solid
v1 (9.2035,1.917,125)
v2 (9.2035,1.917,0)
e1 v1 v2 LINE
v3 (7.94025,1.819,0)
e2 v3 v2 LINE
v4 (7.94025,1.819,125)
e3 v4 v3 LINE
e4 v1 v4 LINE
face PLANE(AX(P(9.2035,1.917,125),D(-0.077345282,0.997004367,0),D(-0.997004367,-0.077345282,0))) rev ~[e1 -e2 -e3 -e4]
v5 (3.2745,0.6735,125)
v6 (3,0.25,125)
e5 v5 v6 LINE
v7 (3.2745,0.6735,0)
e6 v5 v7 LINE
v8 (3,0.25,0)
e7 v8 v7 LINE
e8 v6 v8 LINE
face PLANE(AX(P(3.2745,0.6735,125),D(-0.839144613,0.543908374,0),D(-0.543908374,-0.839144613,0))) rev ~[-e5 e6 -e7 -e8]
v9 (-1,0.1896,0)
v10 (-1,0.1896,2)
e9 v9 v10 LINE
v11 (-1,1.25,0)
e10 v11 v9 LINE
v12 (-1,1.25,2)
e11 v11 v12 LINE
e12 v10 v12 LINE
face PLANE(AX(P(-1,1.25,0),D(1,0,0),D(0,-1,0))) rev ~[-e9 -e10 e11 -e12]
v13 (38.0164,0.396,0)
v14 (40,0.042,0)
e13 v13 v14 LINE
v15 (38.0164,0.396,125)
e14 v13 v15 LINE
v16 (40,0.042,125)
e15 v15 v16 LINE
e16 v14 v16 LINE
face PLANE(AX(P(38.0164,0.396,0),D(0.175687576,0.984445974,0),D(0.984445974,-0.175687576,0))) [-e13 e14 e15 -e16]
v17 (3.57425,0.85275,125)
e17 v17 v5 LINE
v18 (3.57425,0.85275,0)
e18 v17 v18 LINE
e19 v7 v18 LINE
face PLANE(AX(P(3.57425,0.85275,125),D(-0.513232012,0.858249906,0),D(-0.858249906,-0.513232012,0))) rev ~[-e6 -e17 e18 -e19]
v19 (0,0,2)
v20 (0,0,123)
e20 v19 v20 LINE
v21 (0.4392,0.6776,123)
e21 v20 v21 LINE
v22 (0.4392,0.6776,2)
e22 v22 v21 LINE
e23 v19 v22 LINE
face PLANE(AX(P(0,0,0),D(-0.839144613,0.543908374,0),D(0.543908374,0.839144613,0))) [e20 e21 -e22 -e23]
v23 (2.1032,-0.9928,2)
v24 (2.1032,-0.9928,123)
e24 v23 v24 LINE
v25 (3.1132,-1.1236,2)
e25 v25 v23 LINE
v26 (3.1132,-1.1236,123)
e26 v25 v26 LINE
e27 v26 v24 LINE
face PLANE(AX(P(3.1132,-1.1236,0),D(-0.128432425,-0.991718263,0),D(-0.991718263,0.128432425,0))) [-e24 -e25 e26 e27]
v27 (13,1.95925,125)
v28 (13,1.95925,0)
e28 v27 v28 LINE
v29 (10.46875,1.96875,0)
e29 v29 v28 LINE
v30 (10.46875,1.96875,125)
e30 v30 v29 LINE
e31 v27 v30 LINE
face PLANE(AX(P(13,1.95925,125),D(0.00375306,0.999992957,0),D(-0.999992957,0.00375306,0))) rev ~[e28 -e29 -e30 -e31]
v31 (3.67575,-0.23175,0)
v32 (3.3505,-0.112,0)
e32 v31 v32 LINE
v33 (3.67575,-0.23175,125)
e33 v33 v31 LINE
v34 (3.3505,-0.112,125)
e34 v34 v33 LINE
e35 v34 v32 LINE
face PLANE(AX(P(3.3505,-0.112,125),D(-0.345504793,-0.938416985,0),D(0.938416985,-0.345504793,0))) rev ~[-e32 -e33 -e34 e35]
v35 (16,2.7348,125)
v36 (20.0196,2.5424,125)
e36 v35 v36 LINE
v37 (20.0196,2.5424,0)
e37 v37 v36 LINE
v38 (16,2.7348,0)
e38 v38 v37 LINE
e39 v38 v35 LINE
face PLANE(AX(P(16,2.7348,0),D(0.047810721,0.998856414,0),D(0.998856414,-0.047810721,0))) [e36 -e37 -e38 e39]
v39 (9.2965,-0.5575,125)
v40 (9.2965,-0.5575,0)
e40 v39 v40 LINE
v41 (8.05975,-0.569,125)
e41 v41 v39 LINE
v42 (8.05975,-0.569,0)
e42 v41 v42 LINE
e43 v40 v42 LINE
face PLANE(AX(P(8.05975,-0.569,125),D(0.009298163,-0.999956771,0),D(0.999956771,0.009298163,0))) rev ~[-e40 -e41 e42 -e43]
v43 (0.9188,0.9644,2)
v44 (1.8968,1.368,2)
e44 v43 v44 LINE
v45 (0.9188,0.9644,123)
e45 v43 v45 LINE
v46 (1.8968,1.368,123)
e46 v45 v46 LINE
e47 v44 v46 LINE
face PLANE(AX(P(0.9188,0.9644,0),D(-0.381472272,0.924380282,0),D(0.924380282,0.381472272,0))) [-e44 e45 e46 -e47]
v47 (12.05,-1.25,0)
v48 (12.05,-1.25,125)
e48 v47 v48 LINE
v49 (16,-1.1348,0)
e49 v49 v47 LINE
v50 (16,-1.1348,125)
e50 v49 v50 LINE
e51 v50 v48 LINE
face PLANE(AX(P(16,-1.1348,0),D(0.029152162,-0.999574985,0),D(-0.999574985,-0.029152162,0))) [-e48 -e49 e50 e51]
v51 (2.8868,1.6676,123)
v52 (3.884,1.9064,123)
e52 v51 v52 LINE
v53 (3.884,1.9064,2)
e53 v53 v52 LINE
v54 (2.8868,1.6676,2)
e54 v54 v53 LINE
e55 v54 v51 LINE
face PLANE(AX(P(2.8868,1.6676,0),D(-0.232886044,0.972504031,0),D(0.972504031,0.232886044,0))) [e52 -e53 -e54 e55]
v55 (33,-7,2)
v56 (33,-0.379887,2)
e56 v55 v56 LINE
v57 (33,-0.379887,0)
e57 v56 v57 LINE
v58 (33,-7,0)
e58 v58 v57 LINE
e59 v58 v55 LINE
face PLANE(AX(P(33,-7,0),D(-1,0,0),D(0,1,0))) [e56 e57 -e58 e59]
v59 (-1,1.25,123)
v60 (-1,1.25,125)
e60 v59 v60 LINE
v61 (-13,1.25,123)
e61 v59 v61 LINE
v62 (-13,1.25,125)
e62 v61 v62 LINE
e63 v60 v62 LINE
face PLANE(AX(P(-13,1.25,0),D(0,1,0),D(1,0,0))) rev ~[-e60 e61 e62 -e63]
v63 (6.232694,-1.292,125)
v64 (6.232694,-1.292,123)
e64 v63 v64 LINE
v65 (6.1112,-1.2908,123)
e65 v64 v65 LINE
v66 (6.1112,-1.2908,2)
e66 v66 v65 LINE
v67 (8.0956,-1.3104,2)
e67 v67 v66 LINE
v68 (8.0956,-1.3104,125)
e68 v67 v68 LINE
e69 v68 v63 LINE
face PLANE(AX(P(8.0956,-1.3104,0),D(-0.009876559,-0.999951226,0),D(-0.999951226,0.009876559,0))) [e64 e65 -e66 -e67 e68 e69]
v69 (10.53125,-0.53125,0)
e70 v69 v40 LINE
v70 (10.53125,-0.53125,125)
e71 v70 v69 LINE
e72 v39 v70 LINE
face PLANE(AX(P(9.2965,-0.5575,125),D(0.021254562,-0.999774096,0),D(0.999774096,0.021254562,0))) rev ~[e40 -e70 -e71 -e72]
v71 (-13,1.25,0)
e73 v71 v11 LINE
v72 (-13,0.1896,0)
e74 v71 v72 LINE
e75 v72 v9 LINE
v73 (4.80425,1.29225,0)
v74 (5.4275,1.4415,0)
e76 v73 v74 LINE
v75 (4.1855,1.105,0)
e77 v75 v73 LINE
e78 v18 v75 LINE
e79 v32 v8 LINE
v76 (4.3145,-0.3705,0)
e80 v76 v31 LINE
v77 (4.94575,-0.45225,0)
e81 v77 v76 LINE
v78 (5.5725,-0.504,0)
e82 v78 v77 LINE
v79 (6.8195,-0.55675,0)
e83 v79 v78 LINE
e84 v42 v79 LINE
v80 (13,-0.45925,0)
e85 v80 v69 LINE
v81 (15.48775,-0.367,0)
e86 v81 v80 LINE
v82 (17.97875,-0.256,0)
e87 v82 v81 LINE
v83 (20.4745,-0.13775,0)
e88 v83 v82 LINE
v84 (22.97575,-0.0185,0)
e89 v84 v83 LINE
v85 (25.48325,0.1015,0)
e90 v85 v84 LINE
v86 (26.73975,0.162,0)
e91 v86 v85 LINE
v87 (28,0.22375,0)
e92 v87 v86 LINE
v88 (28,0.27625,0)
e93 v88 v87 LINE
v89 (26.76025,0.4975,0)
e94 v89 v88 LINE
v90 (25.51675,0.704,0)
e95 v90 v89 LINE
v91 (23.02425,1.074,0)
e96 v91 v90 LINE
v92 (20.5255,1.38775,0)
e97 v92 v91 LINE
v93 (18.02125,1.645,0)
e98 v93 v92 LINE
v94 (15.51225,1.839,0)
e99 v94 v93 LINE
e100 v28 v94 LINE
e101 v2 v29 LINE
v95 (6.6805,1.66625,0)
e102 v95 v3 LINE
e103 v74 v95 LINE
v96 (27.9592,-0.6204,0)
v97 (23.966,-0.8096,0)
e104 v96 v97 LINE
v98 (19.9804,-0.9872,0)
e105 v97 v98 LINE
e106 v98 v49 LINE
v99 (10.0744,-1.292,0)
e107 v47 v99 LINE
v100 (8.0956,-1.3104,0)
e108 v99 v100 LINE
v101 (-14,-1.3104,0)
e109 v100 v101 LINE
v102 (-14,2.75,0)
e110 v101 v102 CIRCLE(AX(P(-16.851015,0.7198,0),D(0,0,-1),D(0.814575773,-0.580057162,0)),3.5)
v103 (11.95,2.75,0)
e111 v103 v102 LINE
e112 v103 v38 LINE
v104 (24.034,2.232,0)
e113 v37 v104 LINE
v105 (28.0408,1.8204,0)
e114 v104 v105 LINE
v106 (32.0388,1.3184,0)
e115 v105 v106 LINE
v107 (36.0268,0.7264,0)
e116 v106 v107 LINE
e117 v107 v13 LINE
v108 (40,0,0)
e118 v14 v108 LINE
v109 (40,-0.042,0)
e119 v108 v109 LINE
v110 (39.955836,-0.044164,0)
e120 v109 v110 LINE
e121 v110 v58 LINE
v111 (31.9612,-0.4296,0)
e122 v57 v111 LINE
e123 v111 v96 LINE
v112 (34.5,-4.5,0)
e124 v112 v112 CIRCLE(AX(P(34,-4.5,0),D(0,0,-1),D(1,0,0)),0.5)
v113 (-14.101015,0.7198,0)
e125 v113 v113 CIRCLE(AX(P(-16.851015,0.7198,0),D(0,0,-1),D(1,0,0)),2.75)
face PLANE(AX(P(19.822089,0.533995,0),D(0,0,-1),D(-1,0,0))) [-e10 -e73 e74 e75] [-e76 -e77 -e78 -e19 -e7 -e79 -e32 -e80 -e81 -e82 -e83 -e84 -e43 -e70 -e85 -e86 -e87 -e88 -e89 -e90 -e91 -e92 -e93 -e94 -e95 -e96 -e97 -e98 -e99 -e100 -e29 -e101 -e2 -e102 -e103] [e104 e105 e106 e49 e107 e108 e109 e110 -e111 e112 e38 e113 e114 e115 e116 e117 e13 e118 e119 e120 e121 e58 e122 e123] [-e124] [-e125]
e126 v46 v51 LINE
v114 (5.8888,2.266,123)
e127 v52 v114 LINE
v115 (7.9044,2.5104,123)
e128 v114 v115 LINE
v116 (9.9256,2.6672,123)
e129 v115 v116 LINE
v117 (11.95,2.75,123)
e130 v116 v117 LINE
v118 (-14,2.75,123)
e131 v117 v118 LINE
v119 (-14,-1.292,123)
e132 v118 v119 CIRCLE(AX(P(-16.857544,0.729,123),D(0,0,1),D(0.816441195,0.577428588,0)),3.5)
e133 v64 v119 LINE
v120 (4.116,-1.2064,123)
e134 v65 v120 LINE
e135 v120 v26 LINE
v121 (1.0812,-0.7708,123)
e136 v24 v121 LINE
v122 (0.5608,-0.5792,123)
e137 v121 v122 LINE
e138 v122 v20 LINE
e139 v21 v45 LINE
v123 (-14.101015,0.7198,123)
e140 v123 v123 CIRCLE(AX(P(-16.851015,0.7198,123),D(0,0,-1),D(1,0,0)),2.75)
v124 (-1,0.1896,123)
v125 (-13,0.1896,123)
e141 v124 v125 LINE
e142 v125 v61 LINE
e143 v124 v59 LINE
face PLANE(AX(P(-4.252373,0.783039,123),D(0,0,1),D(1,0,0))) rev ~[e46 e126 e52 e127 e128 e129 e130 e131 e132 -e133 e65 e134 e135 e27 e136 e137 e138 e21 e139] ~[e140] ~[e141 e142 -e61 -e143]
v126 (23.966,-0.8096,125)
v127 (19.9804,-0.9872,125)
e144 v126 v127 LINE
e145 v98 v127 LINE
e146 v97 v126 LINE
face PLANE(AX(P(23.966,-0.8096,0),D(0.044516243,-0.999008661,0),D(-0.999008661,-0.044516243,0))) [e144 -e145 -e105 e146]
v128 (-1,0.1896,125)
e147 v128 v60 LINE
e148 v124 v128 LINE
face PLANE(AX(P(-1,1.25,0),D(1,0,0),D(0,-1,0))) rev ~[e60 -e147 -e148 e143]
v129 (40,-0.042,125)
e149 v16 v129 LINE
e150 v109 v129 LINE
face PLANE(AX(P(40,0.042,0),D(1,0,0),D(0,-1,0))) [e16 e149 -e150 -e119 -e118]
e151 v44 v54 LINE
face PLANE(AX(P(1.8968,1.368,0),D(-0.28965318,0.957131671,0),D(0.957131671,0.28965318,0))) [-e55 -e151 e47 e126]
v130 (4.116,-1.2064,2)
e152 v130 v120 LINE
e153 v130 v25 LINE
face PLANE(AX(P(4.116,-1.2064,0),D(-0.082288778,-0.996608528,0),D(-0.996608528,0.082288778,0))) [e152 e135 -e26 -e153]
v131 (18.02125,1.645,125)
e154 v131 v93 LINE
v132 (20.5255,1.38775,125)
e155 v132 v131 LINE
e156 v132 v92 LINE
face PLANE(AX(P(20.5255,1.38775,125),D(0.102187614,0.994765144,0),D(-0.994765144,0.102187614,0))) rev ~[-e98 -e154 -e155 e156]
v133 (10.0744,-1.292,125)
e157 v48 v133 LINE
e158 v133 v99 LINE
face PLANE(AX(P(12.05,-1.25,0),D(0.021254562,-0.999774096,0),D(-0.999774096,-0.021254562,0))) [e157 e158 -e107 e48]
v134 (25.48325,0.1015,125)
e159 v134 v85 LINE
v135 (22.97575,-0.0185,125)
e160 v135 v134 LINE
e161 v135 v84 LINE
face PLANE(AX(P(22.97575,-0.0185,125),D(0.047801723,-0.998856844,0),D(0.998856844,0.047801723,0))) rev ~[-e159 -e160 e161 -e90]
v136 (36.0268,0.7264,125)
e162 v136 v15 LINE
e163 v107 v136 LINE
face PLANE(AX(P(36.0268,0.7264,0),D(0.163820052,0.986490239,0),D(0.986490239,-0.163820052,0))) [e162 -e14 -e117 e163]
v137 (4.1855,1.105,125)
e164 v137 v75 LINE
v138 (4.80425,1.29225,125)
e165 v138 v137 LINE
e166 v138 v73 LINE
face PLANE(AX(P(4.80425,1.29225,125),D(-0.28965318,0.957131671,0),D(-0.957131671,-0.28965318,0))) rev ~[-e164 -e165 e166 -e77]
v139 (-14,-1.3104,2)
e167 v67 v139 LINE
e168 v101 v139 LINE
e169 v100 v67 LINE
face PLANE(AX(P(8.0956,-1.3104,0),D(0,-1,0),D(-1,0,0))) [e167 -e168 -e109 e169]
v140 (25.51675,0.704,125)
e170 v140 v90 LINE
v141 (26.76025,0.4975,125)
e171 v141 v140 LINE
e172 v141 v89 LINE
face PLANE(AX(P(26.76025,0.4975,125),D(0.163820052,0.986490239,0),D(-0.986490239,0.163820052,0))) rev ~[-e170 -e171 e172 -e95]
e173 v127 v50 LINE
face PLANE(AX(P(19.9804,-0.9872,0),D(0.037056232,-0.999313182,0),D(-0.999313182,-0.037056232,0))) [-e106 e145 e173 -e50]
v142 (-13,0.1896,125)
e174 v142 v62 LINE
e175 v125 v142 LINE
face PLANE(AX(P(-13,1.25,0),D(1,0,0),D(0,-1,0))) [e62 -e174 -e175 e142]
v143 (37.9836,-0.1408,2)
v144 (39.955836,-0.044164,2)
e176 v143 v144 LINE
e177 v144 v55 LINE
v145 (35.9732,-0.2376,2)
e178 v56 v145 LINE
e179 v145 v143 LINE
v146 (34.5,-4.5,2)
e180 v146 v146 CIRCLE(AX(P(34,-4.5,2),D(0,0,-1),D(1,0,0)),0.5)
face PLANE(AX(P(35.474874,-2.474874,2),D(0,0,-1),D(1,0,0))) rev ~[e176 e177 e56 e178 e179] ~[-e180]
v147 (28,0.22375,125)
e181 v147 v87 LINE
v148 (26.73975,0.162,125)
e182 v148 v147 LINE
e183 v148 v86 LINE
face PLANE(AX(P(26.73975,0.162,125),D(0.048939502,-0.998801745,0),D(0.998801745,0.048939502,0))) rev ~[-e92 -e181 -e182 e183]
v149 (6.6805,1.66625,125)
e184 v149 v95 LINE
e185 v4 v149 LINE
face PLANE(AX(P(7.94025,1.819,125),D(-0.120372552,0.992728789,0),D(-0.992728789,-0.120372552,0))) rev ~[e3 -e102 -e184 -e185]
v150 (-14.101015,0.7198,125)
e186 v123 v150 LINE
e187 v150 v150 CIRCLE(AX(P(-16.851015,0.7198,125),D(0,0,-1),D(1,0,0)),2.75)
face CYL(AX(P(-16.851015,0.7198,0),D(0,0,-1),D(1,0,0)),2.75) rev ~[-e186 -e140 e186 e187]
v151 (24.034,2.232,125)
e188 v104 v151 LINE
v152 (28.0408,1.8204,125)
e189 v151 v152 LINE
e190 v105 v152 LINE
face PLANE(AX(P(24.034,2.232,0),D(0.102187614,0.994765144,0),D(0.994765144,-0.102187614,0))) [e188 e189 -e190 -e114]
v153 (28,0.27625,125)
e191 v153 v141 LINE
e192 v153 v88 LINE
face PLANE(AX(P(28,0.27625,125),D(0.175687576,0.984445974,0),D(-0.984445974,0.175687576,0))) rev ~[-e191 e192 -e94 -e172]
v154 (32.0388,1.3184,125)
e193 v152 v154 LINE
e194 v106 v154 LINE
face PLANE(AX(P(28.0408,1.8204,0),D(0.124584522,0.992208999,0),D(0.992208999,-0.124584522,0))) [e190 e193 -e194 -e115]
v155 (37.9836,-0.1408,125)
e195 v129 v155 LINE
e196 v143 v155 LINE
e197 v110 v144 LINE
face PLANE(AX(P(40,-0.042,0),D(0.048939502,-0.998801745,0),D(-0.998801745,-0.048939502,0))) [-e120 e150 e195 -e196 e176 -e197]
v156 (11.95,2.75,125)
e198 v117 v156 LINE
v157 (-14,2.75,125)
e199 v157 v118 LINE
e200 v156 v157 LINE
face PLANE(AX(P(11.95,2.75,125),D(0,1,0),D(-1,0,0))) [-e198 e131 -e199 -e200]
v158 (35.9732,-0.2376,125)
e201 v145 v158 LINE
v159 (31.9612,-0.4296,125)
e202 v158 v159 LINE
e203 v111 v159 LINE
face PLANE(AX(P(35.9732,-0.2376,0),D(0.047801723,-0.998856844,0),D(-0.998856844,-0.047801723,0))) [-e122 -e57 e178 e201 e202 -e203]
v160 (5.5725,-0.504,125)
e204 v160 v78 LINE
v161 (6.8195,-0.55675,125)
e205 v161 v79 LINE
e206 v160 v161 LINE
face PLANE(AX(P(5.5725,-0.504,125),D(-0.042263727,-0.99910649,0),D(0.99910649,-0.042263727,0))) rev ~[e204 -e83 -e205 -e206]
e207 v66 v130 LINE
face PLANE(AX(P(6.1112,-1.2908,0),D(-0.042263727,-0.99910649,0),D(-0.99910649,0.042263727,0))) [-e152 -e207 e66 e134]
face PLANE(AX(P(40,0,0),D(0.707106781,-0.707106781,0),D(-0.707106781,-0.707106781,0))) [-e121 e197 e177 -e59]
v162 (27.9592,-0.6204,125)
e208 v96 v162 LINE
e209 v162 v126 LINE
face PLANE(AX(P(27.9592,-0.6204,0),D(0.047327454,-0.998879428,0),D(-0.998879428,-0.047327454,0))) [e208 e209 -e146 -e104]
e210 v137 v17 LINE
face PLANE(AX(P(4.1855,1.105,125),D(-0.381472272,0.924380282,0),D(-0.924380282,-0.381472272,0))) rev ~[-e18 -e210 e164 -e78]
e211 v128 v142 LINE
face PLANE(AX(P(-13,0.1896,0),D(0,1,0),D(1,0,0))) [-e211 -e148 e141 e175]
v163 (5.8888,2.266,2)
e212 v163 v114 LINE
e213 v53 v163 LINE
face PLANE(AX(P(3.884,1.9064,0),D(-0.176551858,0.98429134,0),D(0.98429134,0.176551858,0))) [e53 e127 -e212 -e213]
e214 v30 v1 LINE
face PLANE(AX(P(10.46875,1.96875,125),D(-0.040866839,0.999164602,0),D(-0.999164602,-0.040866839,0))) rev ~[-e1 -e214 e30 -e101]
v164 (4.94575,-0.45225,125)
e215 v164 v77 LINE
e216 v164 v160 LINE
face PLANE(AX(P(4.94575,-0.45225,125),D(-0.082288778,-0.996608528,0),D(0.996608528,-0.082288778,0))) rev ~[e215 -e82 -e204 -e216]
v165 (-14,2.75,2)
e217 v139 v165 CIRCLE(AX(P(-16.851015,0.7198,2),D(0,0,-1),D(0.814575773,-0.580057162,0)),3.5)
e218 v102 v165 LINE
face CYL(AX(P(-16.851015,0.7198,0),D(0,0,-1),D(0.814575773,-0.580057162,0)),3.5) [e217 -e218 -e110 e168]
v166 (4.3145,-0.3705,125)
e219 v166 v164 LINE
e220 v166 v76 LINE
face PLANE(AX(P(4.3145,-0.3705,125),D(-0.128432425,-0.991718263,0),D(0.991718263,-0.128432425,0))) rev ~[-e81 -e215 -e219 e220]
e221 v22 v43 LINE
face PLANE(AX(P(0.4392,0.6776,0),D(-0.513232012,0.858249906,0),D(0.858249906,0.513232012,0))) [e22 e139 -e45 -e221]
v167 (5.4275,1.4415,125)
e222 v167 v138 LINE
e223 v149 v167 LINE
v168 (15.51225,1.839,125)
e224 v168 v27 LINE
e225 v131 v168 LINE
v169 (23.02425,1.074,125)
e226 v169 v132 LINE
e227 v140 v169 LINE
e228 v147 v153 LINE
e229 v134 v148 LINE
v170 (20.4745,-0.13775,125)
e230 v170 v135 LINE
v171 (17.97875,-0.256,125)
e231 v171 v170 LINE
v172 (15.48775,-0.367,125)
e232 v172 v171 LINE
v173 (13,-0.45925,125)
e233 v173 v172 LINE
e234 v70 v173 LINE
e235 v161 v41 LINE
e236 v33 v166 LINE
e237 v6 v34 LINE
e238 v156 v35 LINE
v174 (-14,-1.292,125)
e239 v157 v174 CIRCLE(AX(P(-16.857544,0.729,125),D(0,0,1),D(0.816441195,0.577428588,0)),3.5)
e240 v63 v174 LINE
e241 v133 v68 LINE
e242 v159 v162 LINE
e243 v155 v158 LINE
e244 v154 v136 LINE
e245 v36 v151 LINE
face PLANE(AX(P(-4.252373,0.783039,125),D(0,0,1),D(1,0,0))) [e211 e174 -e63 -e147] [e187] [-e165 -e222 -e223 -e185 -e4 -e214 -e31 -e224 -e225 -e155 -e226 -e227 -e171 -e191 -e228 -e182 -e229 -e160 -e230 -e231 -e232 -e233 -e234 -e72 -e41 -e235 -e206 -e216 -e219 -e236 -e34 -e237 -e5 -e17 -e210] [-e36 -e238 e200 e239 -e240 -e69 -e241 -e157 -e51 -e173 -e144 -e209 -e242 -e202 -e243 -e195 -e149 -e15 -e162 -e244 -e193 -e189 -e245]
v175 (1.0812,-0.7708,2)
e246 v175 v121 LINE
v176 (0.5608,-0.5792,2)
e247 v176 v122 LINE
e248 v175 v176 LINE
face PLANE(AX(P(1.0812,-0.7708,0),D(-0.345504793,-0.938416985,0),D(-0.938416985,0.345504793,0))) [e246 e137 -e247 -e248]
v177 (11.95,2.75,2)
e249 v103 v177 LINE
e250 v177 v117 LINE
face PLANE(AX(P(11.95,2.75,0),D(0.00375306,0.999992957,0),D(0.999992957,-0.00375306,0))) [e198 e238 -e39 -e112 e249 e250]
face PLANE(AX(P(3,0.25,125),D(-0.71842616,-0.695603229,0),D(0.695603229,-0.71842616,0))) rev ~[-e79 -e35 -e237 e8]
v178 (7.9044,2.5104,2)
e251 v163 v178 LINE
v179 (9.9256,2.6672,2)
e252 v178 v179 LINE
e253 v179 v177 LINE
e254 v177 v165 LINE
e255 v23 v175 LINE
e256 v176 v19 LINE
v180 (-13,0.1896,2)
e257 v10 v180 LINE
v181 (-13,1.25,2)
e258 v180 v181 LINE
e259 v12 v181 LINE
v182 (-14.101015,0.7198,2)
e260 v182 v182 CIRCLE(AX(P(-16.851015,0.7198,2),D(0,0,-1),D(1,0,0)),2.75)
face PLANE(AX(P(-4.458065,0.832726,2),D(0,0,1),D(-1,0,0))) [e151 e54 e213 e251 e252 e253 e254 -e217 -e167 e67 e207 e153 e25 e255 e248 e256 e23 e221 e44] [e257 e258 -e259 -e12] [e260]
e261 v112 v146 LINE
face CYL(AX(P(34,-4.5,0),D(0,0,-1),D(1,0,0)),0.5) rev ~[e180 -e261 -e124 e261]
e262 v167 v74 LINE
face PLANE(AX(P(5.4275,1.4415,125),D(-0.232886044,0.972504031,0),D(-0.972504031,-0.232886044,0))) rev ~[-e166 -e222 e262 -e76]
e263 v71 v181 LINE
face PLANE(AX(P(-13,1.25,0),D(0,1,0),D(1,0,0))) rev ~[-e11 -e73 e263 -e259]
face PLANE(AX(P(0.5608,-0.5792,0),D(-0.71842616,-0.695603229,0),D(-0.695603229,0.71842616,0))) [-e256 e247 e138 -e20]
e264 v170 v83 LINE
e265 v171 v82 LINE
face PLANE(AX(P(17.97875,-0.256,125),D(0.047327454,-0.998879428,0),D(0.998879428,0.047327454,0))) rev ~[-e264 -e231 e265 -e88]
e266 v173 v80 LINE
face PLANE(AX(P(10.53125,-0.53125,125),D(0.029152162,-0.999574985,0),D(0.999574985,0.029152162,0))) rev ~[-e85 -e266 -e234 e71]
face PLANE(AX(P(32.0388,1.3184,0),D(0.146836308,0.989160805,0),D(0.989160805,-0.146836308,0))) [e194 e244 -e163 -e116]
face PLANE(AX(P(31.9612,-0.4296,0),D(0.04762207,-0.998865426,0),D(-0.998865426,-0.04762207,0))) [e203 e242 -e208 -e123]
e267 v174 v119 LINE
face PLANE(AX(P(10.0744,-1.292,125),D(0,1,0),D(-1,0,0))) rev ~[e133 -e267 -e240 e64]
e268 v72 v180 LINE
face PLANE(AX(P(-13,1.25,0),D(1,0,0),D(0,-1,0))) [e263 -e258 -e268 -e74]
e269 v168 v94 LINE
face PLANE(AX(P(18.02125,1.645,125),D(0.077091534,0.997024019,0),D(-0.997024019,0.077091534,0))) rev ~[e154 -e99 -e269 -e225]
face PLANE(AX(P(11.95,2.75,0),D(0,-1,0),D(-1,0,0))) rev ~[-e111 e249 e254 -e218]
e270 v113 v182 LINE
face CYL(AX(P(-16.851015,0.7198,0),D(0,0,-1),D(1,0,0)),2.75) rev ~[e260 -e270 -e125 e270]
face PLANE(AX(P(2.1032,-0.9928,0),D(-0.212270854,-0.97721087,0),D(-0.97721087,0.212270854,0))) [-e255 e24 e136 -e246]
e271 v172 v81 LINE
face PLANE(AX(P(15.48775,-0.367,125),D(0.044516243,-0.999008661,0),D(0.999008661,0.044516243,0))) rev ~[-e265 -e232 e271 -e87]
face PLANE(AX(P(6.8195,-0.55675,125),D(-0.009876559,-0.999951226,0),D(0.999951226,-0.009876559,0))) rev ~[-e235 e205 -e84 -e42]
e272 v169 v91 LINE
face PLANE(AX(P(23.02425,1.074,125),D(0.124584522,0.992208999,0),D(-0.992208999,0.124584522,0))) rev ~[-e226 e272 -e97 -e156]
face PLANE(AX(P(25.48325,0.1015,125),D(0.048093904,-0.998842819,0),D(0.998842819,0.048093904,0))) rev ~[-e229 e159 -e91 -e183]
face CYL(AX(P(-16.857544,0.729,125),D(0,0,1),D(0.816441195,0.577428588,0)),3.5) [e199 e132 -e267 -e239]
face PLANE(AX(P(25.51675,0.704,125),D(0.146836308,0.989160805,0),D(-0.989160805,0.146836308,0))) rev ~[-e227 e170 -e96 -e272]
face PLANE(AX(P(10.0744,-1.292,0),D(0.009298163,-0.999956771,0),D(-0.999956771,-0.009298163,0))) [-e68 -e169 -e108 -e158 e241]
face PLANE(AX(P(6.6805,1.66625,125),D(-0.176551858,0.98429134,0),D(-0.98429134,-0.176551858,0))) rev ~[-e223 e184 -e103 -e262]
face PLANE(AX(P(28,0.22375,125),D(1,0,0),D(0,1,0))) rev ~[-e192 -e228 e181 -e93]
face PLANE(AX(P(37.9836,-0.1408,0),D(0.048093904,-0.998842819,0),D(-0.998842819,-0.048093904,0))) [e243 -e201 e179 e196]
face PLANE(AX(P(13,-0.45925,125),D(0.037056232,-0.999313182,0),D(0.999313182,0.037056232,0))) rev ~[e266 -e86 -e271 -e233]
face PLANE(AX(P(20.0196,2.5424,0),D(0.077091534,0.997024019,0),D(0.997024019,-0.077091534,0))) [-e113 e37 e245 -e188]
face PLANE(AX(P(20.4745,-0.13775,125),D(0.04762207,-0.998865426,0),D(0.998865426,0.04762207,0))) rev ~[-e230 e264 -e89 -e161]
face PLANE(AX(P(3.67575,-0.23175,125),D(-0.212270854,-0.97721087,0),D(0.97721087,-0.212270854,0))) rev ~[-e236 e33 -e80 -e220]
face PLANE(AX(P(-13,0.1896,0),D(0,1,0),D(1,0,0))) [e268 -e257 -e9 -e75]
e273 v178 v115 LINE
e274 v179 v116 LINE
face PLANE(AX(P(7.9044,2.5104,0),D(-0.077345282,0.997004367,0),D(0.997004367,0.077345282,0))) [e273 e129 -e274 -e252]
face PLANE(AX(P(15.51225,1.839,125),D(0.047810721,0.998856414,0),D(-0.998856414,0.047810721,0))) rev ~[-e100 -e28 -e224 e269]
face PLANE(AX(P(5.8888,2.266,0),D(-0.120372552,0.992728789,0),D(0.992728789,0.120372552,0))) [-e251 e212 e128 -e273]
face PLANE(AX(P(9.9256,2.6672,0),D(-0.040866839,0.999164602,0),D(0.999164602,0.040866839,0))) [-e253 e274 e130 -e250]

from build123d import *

# Parameters (mm, degrees)
PAD_DEPTH       = 125
PAD001_DEPTH    = 2
PAD002_DEPTH    = 2
SKETCH002_R     = 2.75
POCKET_DEPTH    = 125.001
POCKET001_DEPTH = 125.001
SKETCH004_W     = 12
SKETCH004_H     = 1.0604
POCKET002_DEPTH = 125.001
PAD003_DEPTH    = 2
SKETCH006_R     = 0.5
POCKET003_DEPTH = 125.001


with BuildPart() as part:
    # DWire → Pad (new body)
    with BuildSketch(Plane.XY):
        Polygon((38.0164, 0.396), (40, 0.042), (40, -0.042), (37.9836, -0.1408), (35.9732, -0.2376), (31.9612, -0.4296), (27.9592, -0.6204), (23.966, -0.8096), (19.9804, -0.9872), (16, -1.1348), (12.05, -1.25), (10.0744, -1.292), (8.0956, -1.3104), (6.1112, -1.2908), (4.116, -1.2064), (3.1132, -1.1236), (2.1032, -0.9928), (1.0812, -0.7708), (0.5608, -0.5792), (0, 0), (0.4392, 0.6776), (0.9188, 0.9644), (1.8968, 1.368), (2.8868, 1.6676), (3.884, 1.9064), (5.8888, 2.266), (7.9044, 2.5104), (9.9256, 2.6672), (11.95, 2.75), (16, 2.7348), (20.0196, 2.5424), (24.034, 2.232), (28.0408, 1.8204), (32.0388, 1.3184), (36.0268, 0.7264), align=None)
    extrude(amount=PAD_DEPTH)

    # Sketch → Pad001 (new body)
    with BuildSketch(Plane.XY.offset(125)):
        with BuildLine():
            Line((11.95, 2.75), (-14, 2.75))
            ThreePointArc((-14, 2.75), (-20.357544, 0.729), (-14, -1.292))
            Line((10.0744, -1.292), (-14, -1.292))
            Line((11.95, 2.75), (10.0744, -1.292))
        make_face()
    extrude(amount=-PAD001_DEPTH)

    # Sketch001 → Pad002 (new body)
    with BuildSketch(Plane(origin=(0, 0, 0), x_dir=(1, 0, 0), z_dir=(0, 0, -1))):
        with BuildLine():
            Line((8.0956, 1.3104), (11.95, -2.75))
            Line((11.95, -2.75), (-14, -2.75))
            ThreePointArc((-14, 1.3104), (-20.351015, -0.7198), (-14, -2.75))
            Line((8.0956, 1.3104), (-14, 1.3104))
        make_face()
    extrude(amount=-PAD002_DEPTH)

    # Sketch002 → Pocket (cut, through all)
    with BuildSketch(Plane(origin=(0, 0, 0), x_dir=(1, 0, 0), z_dir=(0, 0, -1))):
        with Locations((-16.851015, -0.7198)):
            Circle(SKETCH002_R)
    extrude(amount=-POCKET_DEPTH, mode=Mode.SUBTRACT)

    # Sketch003 → Pocket001 (cut, through all)
    with BuildSketch(Plane.XY.offset(125)):
        Polygon((28, 0.27625), (26.76025, 0.4975), (25.51675, 0.704), (23.02425, 1.074), (20.5255, 1.38775), (18.02125, 1.645), (15.51225, 1.839), (13, 1.95925), (10.46875, 1.96875), (9.2035, 1.917), (7.94025, 1.819), (6.6805, 1.66625), (5.4275, 1.4415), (4.80425, 1.29225), (4.1855, 1.105), (3.57425, 0.85275), (3.2745, 0.6735), (3, 0.25), (3.3505, -0.112), (3.67575, -0.23175), (4.3145, -0.3705), (4.94575, -0.45225), (5.5725, -0.504), (6.8195, -0.55675), (8.05975, -0.569), (9.2965, -0.5575), (10.53125, -0.53125), (13, -0.45925), (15.48775, -0.367), (17.97875, -0.256), (20.4745, -0.13775), (22.97575, -0.0185), (25.48325, 0.1015), (26.73975, 0.162), (28, 0.22375), align=None)
    extrude(amount=-POCKET001_DEPTH, mode=Mode.SUBTRACT)

    # Sketch004 → Pocket002 (cut, through all)
    with BuildSketch(Plane(origin=(0, 0, 0), x_dir=(1, 0, 0), z_dir=(0, 0, -1))):
        with Locations((-7, -0.7198)):
            Rectangle(SKETCH004_W, SKETCH004_H)
    extrude(amount=-POCKET002_DEPTH, mode=Mode.SUBTRACT)

    # Sketch005 → Pad003 (new body)
    with BuildSketch(Plane(origin=(0, 0, 0), x_dir=(1, 0, 0), z_dir=(0, 0, -1))):
        Polygon((33, 0), (40, 0), (33, 7), align=None)
    extrude(amount=-PAD003_DEPTH)

    # Sketch006 → Pocket003 (cut, through all)
    with BuildSketch(Plane(origin=(0, 0, 0), x_dir=(1, 0, 0), z_dir=(0, 0, -1))):
        with Locations((34, 4.5)):
            Circle(SKETCH006_R)
    extrude(amount=-POCKET003_DEPTH, mode=Mode.SUBTRACT)


solid = part.part
